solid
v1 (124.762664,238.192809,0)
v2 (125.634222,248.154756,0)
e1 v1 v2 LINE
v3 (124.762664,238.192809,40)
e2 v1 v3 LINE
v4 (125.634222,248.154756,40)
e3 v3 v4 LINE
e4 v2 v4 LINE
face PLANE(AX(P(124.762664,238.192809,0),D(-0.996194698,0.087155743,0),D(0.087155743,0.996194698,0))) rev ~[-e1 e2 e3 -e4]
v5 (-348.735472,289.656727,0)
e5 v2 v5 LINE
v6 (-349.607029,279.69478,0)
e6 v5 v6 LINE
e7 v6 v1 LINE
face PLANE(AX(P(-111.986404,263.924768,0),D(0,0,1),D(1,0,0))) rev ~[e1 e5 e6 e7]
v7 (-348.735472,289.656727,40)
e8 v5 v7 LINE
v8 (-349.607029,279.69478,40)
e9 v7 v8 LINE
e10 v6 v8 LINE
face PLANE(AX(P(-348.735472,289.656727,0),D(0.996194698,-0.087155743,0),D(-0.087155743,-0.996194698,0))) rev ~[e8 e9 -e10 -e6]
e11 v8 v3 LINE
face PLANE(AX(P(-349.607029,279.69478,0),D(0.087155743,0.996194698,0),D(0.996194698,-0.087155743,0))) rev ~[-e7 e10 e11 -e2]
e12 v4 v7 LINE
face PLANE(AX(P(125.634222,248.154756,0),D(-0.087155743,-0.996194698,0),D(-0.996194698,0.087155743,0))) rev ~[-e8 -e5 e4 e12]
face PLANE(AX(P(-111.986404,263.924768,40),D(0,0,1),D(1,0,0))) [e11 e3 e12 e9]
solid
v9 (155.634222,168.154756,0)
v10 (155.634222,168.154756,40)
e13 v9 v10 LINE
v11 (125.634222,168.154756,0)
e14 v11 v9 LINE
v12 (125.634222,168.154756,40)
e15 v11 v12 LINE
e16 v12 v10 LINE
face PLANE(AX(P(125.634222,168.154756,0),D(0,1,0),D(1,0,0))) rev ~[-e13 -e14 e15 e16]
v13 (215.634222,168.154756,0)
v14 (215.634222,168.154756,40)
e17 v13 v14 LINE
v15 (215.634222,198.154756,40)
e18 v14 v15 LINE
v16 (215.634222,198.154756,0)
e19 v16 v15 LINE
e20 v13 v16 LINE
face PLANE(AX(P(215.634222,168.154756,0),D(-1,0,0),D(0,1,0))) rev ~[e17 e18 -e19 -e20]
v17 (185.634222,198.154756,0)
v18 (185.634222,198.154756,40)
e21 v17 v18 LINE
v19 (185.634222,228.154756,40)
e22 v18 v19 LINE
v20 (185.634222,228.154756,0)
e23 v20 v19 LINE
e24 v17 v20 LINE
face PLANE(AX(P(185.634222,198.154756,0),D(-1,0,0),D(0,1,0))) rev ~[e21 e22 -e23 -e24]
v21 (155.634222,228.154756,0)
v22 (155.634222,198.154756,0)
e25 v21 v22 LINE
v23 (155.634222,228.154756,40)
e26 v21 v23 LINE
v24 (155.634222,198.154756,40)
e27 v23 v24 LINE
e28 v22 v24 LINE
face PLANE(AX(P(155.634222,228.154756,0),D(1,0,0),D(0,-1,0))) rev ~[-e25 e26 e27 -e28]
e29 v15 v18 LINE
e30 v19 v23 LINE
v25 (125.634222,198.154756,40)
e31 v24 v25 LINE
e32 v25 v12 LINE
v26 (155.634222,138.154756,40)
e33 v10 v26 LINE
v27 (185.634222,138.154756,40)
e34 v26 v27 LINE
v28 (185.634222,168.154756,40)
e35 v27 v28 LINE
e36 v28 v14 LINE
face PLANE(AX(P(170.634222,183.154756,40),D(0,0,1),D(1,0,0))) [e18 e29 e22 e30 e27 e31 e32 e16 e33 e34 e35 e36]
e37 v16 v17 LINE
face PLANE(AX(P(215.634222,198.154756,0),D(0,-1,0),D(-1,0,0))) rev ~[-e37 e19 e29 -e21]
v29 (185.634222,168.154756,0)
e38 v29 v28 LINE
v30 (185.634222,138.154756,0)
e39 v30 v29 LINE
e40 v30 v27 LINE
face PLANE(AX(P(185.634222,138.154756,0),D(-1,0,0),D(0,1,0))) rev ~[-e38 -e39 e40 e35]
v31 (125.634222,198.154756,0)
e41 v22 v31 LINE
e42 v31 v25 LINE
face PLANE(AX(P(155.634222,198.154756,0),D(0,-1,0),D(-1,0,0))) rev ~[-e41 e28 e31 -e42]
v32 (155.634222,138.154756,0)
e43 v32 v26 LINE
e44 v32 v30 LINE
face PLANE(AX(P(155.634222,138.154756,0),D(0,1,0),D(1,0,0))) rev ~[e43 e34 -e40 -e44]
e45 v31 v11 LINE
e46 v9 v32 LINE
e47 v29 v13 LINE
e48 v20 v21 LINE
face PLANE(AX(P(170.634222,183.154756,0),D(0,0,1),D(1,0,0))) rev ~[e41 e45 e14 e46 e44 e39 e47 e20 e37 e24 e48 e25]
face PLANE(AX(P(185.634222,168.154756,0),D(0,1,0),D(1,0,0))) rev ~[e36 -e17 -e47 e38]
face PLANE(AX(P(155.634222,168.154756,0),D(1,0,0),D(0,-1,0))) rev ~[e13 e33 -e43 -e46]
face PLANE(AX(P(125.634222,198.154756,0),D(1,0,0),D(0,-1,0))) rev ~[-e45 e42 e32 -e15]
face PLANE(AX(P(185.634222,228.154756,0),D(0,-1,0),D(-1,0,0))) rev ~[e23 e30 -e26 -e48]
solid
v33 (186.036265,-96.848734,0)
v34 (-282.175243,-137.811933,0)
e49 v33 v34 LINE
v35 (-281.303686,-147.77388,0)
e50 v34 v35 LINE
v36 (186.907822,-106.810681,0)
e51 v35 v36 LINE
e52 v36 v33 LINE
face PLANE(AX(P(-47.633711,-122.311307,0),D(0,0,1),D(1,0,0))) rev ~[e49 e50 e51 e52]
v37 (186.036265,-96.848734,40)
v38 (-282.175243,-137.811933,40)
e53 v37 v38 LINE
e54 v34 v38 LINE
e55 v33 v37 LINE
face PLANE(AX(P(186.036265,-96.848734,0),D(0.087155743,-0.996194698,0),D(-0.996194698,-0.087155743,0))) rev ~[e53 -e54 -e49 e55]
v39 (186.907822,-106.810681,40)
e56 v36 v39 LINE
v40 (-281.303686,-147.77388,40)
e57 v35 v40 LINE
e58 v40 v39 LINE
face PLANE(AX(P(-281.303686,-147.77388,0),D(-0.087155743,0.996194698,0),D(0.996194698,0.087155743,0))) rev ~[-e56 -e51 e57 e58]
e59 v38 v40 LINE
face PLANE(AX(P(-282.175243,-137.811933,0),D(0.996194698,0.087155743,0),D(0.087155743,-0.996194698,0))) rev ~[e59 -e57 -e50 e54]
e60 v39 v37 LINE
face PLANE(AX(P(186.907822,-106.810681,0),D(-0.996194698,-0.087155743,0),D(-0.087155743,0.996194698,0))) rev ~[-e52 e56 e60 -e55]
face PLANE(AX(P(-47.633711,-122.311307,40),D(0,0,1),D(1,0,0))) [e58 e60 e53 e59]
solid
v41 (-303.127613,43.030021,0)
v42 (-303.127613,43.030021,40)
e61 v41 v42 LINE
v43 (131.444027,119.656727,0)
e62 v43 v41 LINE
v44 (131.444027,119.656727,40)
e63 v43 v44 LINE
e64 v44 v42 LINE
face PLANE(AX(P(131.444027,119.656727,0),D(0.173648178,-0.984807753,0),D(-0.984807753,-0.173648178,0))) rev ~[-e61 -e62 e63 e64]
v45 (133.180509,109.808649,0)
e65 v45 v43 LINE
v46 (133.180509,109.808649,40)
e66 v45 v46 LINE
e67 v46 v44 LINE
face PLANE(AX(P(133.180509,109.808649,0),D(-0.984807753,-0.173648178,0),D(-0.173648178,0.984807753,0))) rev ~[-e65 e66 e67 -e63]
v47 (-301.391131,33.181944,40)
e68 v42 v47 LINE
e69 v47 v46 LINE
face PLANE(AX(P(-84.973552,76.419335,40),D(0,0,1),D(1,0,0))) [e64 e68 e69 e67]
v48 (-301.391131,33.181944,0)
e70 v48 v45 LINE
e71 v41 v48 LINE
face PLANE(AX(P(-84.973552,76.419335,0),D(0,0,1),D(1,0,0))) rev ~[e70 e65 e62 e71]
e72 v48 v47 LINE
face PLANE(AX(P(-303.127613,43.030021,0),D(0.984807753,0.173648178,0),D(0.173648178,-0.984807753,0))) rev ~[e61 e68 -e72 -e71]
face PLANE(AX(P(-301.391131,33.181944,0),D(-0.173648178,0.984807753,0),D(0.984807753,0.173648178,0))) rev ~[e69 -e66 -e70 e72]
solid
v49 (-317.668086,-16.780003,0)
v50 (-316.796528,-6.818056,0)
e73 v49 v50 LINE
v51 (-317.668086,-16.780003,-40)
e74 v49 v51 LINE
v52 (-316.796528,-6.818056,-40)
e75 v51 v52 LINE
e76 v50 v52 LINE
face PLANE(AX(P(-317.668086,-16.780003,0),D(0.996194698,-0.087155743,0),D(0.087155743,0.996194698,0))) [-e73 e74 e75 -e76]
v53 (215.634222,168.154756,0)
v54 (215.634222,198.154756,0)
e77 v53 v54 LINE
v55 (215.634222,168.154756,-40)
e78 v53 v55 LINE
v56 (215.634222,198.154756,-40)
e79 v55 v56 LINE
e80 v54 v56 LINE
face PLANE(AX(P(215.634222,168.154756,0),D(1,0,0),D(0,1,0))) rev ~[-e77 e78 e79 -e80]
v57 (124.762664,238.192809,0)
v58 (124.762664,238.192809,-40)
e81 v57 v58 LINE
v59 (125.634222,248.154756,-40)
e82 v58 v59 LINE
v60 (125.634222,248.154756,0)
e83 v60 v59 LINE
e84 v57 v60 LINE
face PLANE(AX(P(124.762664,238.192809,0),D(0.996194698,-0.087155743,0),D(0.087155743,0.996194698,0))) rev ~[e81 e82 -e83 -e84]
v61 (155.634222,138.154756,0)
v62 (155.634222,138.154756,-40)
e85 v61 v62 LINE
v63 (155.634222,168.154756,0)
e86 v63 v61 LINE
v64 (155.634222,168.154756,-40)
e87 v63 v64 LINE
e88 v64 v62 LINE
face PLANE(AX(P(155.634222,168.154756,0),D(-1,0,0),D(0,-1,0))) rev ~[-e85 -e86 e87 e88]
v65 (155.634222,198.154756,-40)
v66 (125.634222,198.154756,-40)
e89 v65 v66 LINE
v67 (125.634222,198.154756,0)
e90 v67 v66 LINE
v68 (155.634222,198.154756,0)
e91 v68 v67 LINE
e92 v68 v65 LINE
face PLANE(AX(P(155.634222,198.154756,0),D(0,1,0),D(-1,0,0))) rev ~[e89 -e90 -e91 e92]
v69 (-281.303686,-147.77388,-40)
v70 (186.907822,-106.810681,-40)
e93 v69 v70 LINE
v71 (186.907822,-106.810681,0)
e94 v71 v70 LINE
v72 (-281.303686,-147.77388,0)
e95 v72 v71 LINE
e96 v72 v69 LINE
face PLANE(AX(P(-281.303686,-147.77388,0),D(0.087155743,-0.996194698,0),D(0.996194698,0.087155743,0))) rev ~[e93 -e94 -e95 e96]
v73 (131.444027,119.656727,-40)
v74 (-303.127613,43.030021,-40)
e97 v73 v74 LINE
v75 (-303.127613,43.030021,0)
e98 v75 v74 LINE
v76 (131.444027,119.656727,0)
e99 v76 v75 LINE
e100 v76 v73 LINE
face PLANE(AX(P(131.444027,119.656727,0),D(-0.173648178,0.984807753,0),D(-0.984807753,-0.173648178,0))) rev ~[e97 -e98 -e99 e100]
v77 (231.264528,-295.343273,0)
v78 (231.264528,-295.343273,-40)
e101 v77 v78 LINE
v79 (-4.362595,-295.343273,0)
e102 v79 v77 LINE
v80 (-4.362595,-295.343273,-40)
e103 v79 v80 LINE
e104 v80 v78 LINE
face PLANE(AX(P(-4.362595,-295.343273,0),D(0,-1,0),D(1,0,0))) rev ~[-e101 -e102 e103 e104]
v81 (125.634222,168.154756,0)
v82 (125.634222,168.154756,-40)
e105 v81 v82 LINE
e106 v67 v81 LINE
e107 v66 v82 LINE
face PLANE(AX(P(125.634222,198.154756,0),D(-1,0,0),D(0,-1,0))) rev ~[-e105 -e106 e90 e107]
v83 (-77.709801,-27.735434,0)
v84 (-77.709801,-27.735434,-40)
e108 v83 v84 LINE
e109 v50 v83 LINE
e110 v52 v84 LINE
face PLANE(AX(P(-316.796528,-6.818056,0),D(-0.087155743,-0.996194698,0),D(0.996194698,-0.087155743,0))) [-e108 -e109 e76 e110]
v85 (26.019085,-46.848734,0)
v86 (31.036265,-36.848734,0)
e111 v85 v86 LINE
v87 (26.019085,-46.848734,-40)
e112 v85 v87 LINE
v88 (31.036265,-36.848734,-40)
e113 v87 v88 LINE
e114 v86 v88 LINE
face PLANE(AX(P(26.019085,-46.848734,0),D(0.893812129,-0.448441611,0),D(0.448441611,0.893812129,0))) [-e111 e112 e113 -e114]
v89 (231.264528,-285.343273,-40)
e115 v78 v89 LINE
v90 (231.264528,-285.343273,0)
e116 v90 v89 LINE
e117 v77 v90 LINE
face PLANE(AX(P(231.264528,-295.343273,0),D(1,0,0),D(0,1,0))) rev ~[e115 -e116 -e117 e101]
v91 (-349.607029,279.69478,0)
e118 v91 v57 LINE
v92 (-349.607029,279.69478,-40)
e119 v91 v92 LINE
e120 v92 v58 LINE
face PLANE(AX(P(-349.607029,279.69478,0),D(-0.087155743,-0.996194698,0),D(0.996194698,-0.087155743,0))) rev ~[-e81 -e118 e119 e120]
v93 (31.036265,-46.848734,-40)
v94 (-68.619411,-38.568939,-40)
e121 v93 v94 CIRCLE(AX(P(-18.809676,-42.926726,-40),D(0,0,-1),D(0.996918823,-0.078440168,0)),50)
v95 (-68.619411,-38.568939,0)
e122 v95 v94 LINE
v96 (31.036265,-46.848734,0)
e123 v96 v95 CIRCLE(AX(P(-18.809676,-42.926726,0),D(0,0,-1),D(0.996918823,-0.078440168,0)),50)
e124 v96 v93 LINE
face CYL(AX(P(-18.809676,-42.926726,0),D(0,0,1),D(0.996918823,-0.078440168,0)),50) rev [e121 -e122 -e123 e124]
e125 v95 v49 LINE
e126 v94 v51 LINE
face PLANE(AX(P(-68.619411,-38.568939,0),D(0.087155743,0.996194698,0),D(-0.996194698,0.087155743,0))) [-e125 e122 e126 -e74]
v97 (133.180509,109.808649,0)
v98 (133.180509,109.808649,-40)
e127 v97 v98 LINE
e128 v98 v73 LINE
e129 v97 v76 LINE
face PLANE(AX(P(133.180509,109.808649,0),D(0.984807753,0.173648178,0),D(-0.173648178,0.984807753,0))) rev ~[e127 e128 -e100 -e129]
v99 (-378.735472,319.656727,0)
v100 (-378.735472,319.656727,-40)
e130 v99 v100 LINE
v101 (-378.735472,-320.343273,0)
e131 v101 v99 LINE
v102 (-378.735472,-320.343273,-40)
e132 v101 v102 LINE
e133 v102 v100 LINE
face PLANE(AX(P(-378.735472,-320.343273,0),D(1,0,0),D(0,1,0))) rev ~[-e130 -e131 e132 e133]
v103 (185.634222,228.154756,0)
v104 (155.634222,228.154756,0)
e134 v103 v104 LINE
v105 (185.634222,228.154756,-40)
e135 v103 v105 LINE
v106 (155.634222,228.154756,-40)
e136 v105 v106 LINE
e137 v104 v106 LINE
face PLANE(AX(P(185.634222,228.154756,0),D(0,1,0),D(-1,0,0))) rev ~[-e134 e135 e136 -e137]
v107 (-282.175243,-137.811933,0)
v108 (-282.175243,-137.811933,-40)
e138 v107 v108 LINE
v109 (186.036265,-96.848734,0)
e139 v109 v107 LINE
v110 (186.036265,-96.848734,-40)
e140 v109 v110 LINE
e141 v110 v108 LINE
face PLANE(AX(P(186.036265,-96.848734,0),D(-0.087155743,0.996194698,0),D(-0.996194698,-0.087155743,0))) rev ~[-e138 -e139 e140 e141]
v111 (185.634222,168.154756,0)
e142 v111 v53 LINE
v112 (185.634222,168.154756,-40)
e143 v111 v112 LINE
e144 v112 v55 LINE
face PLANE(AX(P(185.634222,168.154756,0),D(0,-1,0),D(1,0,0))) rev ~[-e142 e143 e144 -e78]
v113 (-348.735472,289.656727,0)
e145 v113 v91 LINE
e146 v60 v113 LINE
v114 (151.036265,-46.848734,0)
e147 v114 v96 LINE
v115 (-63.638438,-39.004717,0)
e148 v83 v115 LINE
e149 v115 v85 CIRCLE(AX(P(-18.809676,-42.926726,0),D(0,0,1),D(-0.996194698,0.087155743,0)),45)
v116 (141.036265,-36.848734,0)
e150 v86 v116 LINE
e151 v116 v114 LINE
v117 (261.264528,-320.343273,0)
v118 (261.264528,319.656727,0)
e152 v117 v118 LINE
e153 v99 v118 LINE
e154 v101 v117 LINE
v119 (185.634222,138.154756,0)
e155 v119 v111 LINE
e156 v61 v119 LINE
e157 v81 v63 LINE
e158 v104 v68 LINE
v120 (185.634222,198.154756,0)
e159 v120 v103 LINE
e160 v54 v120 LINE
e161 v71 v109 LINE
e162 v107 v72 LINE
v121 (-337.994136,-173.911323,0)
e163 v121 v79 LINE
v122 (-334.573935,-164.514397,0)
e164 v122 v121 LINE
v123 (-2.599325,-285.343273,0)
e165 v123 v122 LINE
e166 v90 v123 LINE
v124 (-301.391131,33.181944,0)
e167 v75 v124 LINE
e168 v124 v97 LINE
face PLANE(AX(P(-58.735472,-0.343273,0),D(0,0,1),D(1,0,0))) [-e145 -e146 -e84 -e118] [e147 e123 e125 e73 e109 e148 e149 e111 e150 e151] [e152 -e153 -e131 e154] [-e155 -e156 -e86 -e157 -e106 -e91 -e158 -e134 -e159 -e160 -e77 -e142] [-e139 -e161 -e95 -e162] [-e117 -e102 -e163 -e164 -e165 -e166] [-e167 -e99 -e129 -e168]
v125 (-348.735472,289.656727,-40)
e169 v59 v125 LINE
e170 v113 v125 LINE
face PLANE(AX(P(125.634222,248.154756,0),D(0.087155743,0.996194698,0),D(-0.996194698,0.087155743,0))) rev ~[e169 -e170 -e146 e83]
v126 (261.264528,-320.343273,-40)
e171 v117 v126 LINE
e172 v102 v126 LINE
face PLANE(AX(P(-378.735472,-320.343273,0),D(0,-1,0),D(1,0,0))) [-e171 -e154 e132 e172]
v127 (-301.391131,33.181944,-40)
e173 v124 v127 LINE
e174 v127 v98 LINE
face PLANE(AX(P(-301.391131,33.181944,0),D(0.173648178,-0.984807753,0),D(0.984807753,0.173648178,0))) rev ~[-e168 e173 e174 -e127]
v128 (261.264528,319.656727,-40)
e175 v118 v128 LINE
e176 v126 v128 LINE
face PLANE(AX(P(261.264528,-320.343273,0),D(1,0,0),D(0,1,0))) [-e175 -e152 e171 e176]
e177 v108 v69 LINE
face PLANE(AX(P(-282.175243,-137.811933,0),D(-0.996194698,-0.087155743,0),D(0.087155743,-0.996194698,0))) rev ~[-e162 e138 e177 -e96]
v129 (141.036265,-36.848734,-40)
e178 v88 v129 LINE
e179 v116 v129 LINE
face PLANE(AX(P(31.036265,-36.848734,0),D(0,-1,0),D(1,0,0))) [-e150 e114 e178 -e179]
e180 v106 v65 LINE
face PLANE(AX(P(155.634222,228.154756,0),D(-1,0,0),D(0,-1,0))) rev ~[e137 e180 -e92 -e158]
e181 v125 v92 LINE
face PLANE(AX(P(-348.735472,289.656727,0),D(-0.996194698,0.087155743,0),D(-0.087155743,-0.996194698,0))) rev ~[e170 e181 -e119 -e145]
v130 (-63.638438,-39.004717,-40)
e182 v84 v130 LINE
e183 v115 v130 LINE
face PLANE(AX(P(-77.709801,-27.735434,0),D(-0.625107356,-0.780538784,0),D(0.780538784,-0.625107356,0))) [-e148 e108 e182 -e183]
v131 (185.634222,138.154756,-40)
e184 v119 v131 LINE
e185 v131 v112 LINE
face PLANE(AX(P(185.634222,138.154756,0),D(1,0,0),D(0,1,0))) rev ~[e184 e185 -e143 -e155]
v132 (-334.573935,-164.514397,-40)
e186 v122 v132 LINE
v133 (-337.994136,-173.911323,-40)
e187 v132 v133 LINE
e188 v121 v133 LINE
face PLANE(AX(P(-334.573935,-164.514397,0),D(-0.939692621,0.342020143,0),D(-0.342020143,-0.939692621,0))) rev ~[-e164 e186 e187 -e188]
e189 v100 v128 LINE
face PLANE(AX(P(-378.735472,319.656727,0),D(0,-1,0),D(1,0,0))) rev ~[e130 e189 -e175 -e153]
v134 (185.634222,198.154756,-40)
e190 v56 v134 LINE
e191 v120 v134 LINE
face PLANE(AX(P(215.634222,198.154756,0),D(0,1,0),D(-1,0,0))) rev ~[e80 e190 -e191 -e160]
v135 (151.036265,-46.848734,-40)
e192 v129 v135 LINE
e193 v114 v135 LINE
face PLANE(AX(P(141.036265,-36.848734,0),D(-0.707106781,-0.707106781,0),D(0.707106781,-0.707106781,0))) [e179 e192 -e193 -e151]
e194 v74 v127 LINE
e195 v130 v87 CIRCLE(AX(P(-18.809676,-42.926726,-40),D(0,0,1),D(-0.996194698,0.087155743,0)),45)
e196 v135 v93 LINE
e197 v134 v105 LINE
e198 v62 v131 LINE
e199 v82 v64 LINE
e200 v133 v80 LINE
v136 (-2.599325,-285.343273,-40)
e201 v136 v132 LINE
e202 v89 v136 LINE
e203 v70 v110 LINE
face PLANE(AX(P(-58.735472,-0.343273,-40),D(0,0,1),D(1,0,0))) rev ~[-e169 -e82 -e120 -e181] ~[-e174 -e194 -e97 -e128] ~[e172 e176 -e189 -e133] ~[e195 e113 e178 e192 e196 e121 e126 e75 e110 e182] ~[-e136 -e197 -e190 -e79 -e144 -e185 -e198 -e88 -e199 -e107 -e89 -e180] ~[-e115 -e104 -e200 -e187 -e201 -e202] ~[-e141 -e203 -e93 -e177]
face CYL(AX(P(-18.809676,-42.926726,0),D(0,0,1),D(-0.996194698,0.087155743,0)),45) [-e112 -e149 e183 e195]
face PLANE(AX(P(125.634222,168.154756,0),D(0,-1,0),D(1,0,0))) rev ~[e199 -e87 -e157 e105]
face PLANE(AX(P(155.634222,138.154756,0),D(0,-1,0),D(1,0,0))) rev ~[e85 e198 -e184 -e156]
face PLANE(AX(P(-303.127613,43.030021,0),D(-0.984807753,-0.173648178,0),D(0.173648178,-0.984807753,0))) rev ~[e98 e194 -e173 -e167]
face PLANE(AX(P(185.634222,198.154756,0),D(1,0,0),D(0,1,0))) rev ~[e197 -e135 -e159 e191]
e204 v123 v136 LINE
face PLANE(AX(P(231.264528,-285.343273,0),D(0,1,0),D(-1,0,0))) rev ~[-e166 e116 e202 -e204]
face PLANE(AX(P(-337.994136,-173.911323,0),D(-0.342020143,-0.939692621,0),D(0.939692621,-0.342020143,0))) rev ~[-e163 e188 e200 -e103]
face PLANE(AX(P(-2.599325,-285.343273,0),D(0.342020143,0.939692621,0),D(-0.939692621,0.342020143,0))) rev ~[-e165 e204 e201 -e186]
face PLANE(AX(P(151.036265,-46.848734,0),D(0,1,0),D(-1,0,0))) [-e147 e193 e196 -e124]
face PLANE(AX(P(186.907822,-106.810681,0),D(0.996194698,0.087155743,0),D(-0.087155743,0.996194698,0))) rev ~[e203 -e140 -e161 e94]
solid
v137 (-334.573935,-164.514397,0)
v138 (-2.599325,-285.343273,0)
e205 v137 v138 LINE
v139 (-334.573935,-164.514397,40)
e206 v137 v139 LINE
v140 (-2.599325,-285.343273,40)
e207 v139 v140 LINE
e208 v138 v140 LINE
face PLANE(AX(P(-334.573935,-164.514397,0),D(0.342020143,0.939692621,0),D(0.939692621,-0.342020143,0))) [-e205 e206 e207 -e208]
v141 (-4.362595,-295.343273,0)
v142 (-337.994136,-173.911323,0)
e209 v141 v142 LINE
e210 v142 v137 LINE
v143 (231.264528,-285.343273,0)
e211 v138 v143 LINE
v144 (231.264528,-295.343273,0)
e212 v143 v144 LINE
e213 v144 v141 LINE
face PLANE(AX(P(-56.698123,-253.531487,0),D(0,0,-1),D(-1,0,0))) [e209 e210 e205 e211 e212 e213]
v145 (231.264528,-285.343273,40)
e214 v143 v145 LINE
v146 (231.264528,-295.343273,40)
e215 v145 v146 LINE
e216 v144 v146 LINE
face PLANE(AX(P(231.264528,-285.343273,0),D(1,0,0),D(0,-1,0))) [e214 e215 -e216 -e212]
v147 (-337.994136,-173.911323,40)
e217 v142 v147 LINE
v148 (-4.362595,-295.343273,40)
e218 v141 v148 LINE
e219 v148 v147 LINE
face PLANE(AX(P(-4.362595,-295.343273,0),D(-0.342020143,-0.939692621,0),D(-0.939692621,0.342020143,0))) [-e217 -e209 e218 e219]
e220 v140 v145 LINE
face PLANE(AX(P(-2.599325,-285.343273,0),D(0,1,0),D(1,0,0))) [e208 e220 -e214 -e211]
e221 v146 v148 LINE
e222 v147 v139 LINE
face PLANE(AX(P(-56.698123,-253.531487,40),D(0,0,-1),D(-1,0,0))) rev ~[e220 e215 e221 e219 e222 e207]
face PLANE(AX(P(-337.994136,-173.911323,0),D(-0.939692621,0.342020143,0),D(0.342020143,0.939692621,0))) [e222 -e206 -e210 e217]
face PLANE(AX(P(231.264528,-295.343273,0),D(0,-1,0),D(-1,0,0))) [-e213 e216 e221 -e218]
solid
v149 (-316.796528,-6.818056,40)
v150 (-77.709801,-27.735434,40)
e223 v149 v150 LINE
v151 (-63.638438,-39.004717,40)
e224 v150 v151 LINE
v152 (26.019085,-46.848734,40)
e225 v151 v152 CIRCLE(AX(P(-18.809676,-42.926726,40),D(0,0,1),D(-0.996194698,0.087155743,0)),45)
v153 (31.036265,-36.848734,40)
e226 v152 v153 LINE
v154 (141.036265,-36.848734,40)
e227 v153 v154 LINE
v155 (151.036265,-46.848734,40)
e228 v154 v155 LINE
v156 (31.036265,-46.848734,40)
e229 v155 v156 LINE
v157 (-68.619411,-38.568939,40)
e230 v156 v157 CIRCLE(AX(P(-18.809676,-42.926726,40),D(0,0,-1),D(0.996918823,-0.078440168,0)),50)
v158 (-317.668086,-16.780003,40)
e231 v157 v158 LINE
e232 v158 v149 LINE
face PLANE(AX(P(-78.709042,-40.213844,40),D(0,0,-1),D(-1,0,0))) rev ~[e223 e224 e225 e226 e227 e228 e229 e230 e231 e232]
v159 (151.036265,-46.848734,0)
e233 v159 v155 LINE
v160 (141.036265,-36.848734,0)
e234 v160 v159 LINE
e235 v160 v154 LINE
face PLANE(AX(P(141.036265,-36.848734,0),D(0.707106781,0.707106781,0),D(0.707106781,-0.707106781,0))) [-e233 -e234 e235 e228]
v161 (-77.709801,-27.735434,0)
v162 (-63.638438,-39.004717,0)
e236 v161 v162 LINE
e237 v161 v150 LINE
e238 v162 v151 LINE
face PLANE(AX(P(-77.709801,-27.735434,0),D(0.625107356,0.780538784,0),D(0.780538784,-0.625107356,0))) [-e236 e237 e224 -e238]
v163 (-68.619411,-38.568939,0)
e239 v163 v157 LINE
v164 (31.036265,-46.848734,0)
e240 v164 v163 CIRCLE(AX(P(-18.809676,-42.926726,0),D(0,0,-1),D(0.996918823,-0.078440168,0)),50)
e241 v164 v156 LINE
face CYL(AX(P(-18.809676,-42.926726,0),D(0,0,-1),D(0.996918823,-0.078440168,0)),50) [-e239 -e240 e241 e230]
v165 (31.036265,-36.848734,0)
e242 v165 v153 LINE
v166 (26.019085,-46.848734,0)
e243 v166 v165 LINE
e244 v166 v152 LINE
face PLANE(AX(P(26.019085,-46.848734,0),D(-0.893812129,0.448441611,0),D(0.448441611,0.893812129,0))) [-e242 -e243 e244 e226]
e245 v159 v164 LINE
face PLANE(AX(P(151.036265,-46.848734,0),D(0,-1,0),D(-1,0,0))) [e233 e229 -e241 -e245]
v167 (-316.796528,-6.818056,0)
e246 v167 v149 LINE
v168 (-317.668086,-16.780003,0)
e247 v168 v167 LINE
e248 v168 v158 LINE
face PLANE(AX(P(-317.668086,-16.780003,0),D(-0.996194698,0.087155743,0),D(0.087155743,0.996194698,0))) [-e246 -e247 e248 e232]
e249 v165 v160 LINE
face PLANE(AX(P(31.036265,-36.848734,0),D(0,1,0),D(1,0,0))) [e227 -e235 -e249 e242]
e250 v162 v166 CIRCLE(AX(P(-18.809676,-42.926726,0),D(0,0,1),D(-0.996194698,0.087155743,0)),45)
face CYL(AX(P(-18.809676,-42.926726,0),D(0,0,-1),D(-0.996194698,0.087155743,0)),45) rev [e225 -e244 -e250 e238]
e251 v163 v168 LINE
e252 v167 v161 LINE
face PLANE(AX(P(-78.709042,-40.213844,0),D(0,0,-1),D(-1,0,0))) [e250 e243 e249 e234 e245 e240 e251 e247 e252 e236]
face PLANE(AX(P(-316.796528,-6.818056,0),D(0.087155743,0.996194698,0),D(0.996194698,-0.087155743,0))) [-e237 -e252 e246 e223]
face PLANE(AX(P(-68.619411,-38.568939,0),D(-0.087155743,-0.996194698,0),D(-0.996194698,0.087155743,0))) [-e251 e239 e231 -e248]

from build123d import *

# Parameters (mm, degrees)
BOSS_EXTRUDE2_DEPTH   = 40
BOSS_EXTRUDE2_2_DEPTH = 40
BOSS_EXTRUDE2_3_DEPTH = 40
BOSS_EXTRUDE2_4_DEPTH = 40
BOSS_EXTRUDE2_5_DEPTH = 40
BOSS_EXTRUDE2_6_DEPTH = 40
SKETCH1_4_W           = 640
SKETCH1_4_H           = 640
BOSS_EXTRUDE3_DEPTH   = 40


with BuildPart() as part:
    # Sketch1 → Boss-Extrude2 (new body)
    with BuildSketch(Plane.XY):
        Polygon((125.634221906, 248.154756102), (-348.735472044, 289.656726643), (-349.607029472, 279.694779662), (124.762664478, 238.192809121), align=None)
    extrude(amount=BOSS_EXTRUDE2_DEPTH)


with BuildPart() as body_2:
    # Sketch1 → Boss-Extrude2 2 (new body)
    with BuildSketch(Plane.XY):
        Polygon((155.634221906, 198.154756102), (125.634221906, 198.154756102), (125.634221906, 168.154756102), (155.634221906, 168.154756102), (155.634221906, 138.154756102), (185.634221906, 138.154756102), (185.634221906, 168.154756102), (215.634221906, 168.154756102), (215.634221906, 198.154756102), (185.634221906, 198.154756102), (185.634221906, 228.154756102), (155.634221906, 228.154756102), align=None)
    extrude(amount=BOSS_EXTRUDE2_2_DEPTH)


with BuildPart() as body_3:
    # Sketch1 → Boss-Extrude2 3 (new body)
    with BuildSketch(Plane.XY):
        Polygon((133.180509115, 109.808649113), (131.444027338, 119.656726643), (-303.127612508, 43.030021487), (-301.391130731, 33.181943957), align=None)
    extrude(amount=BOSS_EXTRUDE2_3_DEPTH)


with BuildPart() as body_4:
    # Sketch1 → Boss-Extrude2 4 (new body)
    with BuildSketch(Plane.XY):
        with BuildLine():
            Line((-77.709800851, -27.735434302), (-316.796528393, -6.818056043))
            Line((-316.796528393, -6.818056043), (-317.668085821, -16.780003024))
            Line((-317.668085821, -16.780003024), (-68.619411298, -38.568938711))
            ThreePointArc((-68.619411298, -38.568938711), (-22.949613754, -92.755040275), (31.036264765, -46.848734272))
            Line((31.036264765, -46.848734272), (151.036264765, -46.848734272))
            Line((151.036264765, -46.848734272), (141.036264765, -36.848734272))
            Line((141.036264765, -36.848734272), (31.036264765, -36.848734272))
            Line((31.036264765, -36.848734272), (26.019085021, -46.848734272))
            ThreePointArc((26.019085021, -46.848734272), (-22.731684817, -87.755487262), (-63.638437807, -39.004717424))
            Line((-63.638437807, -39.004717424), (-77.709800851, -27.735434302))
        make_face()
    extrude(amount=BOSS_EXTRUDE2_4_DEPTH)


with BuildPart() as body_5:
    # Sketch1 → Boss-Extrude2 5 (new body)
    with BuildSketch(Plane.XY):
        Polygon((186.907822192, -106.810681252), (186.036264765, -96.848734272), (-282.175243338, -137.811933363), (-281.303685911, -147.773880344), align=None)
    extrude(amount=BOSS_EXTRUDE2_5_DEPTH)


with BuildPart() as body_6:
    # Sketch1 → Boss-Extrude2 6 (new body)
    with BuildSketch(Plane.XY):
        Polygon((-2.599325132, -285.343273357), (-334.573935055, -164.514396813), (-337.994136488, -173.911323021), (-4.362594939, -295.343273357), (231.264527956, -295.343273357), (231.264527956, -285.343273357), align=None)
    extrude(amount=BOSS_EXTRUDE2_6_DEPTH)


with BuildPart() as body_7:
    # Sketch1<4> → Boss-Extrude3 (new body)
    with BuildSketch(Plane.XY):
        with Locations((-58.735472044, -0.343273357)):
            Rectangle(SKETCH1_4_W, SKETCH1_4_H)
        with BuildLine():
            Line((-317.668085821, -16.780003024), (-316.796528393, -6.818056043))
            Line((-316.796528393, -6.818056043), (-77.709800851, -27.735434302))
            Line((-77.709800851, -27.735434302), (-63.638437807, -39.004717424))
            ThreePointArc((-63.638437807, -39.004717424), (-22.731684817, -87.755487262), (26.019085021, -46.848734272))
            Line((26.019085021, -46.848734272), (31.036264765, -36.848734272))
            Line((31.036264765, -36.848734272), (141.036264765, -36.848734272))
            Line((141.036264765, -36.848734272), (151.036264765, -46.848734272))
            Line((151.036264765, -46.848734272), (31.036264765, -46.848734272))
            ThreePointArc((31.036264765, -46.848734272), (-22.949613754, -92.755040275), (-68.619411298, -38.568938711))
            Line((-68.619411298, -38.568938711), (-317.668085821, -16.780003024))
        make_face(mode=Mode.SUBTRACT)
        Polygon((-337.994136488, -173.911323021), (-334.573935055, -164.514396813), (-2.599325132, -285.343273357), (231.264527956, -285.343273357), (231.264527956, -295.343273357), (-4.362594939, -295.343273357), align=None, mode=Mode.SUBTRACT)
        Polygon((-282.175243338, -137.811933363), (186.036264765, -96.848734272), (186.907822192, -106.810681252), (-281.303685911, -147.773880344), align=None, mode=Mode.SUBTRACT)
        Polygon((-303.127612508, 43.030021487), (131.444027338, 119.656726643), (133.180509115, 109.808649113), (-301.391130731, 33.181943957), align=None, mode=Mode.SUBTRACT)
        Polygon((-349.607029472, 279.694779662), (-348.735472044, 289.656726643), (125.634221906, 248.154756102), (124.762664478, 238.192809121), align=None, mode=Mode.SUBTRACT)
        Polygon((125.634221906, 168.154756102), (125.634221906, 198.154756102), (155.634221906, 198.154756102), (155.634221906, 228.154756102), (185.634221906, 228.154756102), (185.634221906, 198.154756102), (215.634221906, 198.154756102), (215.634221906, 168.154756102), (185.634221906, 168.154756102), (185.634221906, 138.154756102), (155.634221906, 138.154756102), (155.634221906, 168.154756102), align=None, mode=Mode.SUBTRACT)
    extrude(amount=-BOSS_EXTRUDE3_DEPTH)


solid = Compound([part.part, body_2.part, body_3.part, body_4.part, body_5.part, body_6.part, body_7.part])
